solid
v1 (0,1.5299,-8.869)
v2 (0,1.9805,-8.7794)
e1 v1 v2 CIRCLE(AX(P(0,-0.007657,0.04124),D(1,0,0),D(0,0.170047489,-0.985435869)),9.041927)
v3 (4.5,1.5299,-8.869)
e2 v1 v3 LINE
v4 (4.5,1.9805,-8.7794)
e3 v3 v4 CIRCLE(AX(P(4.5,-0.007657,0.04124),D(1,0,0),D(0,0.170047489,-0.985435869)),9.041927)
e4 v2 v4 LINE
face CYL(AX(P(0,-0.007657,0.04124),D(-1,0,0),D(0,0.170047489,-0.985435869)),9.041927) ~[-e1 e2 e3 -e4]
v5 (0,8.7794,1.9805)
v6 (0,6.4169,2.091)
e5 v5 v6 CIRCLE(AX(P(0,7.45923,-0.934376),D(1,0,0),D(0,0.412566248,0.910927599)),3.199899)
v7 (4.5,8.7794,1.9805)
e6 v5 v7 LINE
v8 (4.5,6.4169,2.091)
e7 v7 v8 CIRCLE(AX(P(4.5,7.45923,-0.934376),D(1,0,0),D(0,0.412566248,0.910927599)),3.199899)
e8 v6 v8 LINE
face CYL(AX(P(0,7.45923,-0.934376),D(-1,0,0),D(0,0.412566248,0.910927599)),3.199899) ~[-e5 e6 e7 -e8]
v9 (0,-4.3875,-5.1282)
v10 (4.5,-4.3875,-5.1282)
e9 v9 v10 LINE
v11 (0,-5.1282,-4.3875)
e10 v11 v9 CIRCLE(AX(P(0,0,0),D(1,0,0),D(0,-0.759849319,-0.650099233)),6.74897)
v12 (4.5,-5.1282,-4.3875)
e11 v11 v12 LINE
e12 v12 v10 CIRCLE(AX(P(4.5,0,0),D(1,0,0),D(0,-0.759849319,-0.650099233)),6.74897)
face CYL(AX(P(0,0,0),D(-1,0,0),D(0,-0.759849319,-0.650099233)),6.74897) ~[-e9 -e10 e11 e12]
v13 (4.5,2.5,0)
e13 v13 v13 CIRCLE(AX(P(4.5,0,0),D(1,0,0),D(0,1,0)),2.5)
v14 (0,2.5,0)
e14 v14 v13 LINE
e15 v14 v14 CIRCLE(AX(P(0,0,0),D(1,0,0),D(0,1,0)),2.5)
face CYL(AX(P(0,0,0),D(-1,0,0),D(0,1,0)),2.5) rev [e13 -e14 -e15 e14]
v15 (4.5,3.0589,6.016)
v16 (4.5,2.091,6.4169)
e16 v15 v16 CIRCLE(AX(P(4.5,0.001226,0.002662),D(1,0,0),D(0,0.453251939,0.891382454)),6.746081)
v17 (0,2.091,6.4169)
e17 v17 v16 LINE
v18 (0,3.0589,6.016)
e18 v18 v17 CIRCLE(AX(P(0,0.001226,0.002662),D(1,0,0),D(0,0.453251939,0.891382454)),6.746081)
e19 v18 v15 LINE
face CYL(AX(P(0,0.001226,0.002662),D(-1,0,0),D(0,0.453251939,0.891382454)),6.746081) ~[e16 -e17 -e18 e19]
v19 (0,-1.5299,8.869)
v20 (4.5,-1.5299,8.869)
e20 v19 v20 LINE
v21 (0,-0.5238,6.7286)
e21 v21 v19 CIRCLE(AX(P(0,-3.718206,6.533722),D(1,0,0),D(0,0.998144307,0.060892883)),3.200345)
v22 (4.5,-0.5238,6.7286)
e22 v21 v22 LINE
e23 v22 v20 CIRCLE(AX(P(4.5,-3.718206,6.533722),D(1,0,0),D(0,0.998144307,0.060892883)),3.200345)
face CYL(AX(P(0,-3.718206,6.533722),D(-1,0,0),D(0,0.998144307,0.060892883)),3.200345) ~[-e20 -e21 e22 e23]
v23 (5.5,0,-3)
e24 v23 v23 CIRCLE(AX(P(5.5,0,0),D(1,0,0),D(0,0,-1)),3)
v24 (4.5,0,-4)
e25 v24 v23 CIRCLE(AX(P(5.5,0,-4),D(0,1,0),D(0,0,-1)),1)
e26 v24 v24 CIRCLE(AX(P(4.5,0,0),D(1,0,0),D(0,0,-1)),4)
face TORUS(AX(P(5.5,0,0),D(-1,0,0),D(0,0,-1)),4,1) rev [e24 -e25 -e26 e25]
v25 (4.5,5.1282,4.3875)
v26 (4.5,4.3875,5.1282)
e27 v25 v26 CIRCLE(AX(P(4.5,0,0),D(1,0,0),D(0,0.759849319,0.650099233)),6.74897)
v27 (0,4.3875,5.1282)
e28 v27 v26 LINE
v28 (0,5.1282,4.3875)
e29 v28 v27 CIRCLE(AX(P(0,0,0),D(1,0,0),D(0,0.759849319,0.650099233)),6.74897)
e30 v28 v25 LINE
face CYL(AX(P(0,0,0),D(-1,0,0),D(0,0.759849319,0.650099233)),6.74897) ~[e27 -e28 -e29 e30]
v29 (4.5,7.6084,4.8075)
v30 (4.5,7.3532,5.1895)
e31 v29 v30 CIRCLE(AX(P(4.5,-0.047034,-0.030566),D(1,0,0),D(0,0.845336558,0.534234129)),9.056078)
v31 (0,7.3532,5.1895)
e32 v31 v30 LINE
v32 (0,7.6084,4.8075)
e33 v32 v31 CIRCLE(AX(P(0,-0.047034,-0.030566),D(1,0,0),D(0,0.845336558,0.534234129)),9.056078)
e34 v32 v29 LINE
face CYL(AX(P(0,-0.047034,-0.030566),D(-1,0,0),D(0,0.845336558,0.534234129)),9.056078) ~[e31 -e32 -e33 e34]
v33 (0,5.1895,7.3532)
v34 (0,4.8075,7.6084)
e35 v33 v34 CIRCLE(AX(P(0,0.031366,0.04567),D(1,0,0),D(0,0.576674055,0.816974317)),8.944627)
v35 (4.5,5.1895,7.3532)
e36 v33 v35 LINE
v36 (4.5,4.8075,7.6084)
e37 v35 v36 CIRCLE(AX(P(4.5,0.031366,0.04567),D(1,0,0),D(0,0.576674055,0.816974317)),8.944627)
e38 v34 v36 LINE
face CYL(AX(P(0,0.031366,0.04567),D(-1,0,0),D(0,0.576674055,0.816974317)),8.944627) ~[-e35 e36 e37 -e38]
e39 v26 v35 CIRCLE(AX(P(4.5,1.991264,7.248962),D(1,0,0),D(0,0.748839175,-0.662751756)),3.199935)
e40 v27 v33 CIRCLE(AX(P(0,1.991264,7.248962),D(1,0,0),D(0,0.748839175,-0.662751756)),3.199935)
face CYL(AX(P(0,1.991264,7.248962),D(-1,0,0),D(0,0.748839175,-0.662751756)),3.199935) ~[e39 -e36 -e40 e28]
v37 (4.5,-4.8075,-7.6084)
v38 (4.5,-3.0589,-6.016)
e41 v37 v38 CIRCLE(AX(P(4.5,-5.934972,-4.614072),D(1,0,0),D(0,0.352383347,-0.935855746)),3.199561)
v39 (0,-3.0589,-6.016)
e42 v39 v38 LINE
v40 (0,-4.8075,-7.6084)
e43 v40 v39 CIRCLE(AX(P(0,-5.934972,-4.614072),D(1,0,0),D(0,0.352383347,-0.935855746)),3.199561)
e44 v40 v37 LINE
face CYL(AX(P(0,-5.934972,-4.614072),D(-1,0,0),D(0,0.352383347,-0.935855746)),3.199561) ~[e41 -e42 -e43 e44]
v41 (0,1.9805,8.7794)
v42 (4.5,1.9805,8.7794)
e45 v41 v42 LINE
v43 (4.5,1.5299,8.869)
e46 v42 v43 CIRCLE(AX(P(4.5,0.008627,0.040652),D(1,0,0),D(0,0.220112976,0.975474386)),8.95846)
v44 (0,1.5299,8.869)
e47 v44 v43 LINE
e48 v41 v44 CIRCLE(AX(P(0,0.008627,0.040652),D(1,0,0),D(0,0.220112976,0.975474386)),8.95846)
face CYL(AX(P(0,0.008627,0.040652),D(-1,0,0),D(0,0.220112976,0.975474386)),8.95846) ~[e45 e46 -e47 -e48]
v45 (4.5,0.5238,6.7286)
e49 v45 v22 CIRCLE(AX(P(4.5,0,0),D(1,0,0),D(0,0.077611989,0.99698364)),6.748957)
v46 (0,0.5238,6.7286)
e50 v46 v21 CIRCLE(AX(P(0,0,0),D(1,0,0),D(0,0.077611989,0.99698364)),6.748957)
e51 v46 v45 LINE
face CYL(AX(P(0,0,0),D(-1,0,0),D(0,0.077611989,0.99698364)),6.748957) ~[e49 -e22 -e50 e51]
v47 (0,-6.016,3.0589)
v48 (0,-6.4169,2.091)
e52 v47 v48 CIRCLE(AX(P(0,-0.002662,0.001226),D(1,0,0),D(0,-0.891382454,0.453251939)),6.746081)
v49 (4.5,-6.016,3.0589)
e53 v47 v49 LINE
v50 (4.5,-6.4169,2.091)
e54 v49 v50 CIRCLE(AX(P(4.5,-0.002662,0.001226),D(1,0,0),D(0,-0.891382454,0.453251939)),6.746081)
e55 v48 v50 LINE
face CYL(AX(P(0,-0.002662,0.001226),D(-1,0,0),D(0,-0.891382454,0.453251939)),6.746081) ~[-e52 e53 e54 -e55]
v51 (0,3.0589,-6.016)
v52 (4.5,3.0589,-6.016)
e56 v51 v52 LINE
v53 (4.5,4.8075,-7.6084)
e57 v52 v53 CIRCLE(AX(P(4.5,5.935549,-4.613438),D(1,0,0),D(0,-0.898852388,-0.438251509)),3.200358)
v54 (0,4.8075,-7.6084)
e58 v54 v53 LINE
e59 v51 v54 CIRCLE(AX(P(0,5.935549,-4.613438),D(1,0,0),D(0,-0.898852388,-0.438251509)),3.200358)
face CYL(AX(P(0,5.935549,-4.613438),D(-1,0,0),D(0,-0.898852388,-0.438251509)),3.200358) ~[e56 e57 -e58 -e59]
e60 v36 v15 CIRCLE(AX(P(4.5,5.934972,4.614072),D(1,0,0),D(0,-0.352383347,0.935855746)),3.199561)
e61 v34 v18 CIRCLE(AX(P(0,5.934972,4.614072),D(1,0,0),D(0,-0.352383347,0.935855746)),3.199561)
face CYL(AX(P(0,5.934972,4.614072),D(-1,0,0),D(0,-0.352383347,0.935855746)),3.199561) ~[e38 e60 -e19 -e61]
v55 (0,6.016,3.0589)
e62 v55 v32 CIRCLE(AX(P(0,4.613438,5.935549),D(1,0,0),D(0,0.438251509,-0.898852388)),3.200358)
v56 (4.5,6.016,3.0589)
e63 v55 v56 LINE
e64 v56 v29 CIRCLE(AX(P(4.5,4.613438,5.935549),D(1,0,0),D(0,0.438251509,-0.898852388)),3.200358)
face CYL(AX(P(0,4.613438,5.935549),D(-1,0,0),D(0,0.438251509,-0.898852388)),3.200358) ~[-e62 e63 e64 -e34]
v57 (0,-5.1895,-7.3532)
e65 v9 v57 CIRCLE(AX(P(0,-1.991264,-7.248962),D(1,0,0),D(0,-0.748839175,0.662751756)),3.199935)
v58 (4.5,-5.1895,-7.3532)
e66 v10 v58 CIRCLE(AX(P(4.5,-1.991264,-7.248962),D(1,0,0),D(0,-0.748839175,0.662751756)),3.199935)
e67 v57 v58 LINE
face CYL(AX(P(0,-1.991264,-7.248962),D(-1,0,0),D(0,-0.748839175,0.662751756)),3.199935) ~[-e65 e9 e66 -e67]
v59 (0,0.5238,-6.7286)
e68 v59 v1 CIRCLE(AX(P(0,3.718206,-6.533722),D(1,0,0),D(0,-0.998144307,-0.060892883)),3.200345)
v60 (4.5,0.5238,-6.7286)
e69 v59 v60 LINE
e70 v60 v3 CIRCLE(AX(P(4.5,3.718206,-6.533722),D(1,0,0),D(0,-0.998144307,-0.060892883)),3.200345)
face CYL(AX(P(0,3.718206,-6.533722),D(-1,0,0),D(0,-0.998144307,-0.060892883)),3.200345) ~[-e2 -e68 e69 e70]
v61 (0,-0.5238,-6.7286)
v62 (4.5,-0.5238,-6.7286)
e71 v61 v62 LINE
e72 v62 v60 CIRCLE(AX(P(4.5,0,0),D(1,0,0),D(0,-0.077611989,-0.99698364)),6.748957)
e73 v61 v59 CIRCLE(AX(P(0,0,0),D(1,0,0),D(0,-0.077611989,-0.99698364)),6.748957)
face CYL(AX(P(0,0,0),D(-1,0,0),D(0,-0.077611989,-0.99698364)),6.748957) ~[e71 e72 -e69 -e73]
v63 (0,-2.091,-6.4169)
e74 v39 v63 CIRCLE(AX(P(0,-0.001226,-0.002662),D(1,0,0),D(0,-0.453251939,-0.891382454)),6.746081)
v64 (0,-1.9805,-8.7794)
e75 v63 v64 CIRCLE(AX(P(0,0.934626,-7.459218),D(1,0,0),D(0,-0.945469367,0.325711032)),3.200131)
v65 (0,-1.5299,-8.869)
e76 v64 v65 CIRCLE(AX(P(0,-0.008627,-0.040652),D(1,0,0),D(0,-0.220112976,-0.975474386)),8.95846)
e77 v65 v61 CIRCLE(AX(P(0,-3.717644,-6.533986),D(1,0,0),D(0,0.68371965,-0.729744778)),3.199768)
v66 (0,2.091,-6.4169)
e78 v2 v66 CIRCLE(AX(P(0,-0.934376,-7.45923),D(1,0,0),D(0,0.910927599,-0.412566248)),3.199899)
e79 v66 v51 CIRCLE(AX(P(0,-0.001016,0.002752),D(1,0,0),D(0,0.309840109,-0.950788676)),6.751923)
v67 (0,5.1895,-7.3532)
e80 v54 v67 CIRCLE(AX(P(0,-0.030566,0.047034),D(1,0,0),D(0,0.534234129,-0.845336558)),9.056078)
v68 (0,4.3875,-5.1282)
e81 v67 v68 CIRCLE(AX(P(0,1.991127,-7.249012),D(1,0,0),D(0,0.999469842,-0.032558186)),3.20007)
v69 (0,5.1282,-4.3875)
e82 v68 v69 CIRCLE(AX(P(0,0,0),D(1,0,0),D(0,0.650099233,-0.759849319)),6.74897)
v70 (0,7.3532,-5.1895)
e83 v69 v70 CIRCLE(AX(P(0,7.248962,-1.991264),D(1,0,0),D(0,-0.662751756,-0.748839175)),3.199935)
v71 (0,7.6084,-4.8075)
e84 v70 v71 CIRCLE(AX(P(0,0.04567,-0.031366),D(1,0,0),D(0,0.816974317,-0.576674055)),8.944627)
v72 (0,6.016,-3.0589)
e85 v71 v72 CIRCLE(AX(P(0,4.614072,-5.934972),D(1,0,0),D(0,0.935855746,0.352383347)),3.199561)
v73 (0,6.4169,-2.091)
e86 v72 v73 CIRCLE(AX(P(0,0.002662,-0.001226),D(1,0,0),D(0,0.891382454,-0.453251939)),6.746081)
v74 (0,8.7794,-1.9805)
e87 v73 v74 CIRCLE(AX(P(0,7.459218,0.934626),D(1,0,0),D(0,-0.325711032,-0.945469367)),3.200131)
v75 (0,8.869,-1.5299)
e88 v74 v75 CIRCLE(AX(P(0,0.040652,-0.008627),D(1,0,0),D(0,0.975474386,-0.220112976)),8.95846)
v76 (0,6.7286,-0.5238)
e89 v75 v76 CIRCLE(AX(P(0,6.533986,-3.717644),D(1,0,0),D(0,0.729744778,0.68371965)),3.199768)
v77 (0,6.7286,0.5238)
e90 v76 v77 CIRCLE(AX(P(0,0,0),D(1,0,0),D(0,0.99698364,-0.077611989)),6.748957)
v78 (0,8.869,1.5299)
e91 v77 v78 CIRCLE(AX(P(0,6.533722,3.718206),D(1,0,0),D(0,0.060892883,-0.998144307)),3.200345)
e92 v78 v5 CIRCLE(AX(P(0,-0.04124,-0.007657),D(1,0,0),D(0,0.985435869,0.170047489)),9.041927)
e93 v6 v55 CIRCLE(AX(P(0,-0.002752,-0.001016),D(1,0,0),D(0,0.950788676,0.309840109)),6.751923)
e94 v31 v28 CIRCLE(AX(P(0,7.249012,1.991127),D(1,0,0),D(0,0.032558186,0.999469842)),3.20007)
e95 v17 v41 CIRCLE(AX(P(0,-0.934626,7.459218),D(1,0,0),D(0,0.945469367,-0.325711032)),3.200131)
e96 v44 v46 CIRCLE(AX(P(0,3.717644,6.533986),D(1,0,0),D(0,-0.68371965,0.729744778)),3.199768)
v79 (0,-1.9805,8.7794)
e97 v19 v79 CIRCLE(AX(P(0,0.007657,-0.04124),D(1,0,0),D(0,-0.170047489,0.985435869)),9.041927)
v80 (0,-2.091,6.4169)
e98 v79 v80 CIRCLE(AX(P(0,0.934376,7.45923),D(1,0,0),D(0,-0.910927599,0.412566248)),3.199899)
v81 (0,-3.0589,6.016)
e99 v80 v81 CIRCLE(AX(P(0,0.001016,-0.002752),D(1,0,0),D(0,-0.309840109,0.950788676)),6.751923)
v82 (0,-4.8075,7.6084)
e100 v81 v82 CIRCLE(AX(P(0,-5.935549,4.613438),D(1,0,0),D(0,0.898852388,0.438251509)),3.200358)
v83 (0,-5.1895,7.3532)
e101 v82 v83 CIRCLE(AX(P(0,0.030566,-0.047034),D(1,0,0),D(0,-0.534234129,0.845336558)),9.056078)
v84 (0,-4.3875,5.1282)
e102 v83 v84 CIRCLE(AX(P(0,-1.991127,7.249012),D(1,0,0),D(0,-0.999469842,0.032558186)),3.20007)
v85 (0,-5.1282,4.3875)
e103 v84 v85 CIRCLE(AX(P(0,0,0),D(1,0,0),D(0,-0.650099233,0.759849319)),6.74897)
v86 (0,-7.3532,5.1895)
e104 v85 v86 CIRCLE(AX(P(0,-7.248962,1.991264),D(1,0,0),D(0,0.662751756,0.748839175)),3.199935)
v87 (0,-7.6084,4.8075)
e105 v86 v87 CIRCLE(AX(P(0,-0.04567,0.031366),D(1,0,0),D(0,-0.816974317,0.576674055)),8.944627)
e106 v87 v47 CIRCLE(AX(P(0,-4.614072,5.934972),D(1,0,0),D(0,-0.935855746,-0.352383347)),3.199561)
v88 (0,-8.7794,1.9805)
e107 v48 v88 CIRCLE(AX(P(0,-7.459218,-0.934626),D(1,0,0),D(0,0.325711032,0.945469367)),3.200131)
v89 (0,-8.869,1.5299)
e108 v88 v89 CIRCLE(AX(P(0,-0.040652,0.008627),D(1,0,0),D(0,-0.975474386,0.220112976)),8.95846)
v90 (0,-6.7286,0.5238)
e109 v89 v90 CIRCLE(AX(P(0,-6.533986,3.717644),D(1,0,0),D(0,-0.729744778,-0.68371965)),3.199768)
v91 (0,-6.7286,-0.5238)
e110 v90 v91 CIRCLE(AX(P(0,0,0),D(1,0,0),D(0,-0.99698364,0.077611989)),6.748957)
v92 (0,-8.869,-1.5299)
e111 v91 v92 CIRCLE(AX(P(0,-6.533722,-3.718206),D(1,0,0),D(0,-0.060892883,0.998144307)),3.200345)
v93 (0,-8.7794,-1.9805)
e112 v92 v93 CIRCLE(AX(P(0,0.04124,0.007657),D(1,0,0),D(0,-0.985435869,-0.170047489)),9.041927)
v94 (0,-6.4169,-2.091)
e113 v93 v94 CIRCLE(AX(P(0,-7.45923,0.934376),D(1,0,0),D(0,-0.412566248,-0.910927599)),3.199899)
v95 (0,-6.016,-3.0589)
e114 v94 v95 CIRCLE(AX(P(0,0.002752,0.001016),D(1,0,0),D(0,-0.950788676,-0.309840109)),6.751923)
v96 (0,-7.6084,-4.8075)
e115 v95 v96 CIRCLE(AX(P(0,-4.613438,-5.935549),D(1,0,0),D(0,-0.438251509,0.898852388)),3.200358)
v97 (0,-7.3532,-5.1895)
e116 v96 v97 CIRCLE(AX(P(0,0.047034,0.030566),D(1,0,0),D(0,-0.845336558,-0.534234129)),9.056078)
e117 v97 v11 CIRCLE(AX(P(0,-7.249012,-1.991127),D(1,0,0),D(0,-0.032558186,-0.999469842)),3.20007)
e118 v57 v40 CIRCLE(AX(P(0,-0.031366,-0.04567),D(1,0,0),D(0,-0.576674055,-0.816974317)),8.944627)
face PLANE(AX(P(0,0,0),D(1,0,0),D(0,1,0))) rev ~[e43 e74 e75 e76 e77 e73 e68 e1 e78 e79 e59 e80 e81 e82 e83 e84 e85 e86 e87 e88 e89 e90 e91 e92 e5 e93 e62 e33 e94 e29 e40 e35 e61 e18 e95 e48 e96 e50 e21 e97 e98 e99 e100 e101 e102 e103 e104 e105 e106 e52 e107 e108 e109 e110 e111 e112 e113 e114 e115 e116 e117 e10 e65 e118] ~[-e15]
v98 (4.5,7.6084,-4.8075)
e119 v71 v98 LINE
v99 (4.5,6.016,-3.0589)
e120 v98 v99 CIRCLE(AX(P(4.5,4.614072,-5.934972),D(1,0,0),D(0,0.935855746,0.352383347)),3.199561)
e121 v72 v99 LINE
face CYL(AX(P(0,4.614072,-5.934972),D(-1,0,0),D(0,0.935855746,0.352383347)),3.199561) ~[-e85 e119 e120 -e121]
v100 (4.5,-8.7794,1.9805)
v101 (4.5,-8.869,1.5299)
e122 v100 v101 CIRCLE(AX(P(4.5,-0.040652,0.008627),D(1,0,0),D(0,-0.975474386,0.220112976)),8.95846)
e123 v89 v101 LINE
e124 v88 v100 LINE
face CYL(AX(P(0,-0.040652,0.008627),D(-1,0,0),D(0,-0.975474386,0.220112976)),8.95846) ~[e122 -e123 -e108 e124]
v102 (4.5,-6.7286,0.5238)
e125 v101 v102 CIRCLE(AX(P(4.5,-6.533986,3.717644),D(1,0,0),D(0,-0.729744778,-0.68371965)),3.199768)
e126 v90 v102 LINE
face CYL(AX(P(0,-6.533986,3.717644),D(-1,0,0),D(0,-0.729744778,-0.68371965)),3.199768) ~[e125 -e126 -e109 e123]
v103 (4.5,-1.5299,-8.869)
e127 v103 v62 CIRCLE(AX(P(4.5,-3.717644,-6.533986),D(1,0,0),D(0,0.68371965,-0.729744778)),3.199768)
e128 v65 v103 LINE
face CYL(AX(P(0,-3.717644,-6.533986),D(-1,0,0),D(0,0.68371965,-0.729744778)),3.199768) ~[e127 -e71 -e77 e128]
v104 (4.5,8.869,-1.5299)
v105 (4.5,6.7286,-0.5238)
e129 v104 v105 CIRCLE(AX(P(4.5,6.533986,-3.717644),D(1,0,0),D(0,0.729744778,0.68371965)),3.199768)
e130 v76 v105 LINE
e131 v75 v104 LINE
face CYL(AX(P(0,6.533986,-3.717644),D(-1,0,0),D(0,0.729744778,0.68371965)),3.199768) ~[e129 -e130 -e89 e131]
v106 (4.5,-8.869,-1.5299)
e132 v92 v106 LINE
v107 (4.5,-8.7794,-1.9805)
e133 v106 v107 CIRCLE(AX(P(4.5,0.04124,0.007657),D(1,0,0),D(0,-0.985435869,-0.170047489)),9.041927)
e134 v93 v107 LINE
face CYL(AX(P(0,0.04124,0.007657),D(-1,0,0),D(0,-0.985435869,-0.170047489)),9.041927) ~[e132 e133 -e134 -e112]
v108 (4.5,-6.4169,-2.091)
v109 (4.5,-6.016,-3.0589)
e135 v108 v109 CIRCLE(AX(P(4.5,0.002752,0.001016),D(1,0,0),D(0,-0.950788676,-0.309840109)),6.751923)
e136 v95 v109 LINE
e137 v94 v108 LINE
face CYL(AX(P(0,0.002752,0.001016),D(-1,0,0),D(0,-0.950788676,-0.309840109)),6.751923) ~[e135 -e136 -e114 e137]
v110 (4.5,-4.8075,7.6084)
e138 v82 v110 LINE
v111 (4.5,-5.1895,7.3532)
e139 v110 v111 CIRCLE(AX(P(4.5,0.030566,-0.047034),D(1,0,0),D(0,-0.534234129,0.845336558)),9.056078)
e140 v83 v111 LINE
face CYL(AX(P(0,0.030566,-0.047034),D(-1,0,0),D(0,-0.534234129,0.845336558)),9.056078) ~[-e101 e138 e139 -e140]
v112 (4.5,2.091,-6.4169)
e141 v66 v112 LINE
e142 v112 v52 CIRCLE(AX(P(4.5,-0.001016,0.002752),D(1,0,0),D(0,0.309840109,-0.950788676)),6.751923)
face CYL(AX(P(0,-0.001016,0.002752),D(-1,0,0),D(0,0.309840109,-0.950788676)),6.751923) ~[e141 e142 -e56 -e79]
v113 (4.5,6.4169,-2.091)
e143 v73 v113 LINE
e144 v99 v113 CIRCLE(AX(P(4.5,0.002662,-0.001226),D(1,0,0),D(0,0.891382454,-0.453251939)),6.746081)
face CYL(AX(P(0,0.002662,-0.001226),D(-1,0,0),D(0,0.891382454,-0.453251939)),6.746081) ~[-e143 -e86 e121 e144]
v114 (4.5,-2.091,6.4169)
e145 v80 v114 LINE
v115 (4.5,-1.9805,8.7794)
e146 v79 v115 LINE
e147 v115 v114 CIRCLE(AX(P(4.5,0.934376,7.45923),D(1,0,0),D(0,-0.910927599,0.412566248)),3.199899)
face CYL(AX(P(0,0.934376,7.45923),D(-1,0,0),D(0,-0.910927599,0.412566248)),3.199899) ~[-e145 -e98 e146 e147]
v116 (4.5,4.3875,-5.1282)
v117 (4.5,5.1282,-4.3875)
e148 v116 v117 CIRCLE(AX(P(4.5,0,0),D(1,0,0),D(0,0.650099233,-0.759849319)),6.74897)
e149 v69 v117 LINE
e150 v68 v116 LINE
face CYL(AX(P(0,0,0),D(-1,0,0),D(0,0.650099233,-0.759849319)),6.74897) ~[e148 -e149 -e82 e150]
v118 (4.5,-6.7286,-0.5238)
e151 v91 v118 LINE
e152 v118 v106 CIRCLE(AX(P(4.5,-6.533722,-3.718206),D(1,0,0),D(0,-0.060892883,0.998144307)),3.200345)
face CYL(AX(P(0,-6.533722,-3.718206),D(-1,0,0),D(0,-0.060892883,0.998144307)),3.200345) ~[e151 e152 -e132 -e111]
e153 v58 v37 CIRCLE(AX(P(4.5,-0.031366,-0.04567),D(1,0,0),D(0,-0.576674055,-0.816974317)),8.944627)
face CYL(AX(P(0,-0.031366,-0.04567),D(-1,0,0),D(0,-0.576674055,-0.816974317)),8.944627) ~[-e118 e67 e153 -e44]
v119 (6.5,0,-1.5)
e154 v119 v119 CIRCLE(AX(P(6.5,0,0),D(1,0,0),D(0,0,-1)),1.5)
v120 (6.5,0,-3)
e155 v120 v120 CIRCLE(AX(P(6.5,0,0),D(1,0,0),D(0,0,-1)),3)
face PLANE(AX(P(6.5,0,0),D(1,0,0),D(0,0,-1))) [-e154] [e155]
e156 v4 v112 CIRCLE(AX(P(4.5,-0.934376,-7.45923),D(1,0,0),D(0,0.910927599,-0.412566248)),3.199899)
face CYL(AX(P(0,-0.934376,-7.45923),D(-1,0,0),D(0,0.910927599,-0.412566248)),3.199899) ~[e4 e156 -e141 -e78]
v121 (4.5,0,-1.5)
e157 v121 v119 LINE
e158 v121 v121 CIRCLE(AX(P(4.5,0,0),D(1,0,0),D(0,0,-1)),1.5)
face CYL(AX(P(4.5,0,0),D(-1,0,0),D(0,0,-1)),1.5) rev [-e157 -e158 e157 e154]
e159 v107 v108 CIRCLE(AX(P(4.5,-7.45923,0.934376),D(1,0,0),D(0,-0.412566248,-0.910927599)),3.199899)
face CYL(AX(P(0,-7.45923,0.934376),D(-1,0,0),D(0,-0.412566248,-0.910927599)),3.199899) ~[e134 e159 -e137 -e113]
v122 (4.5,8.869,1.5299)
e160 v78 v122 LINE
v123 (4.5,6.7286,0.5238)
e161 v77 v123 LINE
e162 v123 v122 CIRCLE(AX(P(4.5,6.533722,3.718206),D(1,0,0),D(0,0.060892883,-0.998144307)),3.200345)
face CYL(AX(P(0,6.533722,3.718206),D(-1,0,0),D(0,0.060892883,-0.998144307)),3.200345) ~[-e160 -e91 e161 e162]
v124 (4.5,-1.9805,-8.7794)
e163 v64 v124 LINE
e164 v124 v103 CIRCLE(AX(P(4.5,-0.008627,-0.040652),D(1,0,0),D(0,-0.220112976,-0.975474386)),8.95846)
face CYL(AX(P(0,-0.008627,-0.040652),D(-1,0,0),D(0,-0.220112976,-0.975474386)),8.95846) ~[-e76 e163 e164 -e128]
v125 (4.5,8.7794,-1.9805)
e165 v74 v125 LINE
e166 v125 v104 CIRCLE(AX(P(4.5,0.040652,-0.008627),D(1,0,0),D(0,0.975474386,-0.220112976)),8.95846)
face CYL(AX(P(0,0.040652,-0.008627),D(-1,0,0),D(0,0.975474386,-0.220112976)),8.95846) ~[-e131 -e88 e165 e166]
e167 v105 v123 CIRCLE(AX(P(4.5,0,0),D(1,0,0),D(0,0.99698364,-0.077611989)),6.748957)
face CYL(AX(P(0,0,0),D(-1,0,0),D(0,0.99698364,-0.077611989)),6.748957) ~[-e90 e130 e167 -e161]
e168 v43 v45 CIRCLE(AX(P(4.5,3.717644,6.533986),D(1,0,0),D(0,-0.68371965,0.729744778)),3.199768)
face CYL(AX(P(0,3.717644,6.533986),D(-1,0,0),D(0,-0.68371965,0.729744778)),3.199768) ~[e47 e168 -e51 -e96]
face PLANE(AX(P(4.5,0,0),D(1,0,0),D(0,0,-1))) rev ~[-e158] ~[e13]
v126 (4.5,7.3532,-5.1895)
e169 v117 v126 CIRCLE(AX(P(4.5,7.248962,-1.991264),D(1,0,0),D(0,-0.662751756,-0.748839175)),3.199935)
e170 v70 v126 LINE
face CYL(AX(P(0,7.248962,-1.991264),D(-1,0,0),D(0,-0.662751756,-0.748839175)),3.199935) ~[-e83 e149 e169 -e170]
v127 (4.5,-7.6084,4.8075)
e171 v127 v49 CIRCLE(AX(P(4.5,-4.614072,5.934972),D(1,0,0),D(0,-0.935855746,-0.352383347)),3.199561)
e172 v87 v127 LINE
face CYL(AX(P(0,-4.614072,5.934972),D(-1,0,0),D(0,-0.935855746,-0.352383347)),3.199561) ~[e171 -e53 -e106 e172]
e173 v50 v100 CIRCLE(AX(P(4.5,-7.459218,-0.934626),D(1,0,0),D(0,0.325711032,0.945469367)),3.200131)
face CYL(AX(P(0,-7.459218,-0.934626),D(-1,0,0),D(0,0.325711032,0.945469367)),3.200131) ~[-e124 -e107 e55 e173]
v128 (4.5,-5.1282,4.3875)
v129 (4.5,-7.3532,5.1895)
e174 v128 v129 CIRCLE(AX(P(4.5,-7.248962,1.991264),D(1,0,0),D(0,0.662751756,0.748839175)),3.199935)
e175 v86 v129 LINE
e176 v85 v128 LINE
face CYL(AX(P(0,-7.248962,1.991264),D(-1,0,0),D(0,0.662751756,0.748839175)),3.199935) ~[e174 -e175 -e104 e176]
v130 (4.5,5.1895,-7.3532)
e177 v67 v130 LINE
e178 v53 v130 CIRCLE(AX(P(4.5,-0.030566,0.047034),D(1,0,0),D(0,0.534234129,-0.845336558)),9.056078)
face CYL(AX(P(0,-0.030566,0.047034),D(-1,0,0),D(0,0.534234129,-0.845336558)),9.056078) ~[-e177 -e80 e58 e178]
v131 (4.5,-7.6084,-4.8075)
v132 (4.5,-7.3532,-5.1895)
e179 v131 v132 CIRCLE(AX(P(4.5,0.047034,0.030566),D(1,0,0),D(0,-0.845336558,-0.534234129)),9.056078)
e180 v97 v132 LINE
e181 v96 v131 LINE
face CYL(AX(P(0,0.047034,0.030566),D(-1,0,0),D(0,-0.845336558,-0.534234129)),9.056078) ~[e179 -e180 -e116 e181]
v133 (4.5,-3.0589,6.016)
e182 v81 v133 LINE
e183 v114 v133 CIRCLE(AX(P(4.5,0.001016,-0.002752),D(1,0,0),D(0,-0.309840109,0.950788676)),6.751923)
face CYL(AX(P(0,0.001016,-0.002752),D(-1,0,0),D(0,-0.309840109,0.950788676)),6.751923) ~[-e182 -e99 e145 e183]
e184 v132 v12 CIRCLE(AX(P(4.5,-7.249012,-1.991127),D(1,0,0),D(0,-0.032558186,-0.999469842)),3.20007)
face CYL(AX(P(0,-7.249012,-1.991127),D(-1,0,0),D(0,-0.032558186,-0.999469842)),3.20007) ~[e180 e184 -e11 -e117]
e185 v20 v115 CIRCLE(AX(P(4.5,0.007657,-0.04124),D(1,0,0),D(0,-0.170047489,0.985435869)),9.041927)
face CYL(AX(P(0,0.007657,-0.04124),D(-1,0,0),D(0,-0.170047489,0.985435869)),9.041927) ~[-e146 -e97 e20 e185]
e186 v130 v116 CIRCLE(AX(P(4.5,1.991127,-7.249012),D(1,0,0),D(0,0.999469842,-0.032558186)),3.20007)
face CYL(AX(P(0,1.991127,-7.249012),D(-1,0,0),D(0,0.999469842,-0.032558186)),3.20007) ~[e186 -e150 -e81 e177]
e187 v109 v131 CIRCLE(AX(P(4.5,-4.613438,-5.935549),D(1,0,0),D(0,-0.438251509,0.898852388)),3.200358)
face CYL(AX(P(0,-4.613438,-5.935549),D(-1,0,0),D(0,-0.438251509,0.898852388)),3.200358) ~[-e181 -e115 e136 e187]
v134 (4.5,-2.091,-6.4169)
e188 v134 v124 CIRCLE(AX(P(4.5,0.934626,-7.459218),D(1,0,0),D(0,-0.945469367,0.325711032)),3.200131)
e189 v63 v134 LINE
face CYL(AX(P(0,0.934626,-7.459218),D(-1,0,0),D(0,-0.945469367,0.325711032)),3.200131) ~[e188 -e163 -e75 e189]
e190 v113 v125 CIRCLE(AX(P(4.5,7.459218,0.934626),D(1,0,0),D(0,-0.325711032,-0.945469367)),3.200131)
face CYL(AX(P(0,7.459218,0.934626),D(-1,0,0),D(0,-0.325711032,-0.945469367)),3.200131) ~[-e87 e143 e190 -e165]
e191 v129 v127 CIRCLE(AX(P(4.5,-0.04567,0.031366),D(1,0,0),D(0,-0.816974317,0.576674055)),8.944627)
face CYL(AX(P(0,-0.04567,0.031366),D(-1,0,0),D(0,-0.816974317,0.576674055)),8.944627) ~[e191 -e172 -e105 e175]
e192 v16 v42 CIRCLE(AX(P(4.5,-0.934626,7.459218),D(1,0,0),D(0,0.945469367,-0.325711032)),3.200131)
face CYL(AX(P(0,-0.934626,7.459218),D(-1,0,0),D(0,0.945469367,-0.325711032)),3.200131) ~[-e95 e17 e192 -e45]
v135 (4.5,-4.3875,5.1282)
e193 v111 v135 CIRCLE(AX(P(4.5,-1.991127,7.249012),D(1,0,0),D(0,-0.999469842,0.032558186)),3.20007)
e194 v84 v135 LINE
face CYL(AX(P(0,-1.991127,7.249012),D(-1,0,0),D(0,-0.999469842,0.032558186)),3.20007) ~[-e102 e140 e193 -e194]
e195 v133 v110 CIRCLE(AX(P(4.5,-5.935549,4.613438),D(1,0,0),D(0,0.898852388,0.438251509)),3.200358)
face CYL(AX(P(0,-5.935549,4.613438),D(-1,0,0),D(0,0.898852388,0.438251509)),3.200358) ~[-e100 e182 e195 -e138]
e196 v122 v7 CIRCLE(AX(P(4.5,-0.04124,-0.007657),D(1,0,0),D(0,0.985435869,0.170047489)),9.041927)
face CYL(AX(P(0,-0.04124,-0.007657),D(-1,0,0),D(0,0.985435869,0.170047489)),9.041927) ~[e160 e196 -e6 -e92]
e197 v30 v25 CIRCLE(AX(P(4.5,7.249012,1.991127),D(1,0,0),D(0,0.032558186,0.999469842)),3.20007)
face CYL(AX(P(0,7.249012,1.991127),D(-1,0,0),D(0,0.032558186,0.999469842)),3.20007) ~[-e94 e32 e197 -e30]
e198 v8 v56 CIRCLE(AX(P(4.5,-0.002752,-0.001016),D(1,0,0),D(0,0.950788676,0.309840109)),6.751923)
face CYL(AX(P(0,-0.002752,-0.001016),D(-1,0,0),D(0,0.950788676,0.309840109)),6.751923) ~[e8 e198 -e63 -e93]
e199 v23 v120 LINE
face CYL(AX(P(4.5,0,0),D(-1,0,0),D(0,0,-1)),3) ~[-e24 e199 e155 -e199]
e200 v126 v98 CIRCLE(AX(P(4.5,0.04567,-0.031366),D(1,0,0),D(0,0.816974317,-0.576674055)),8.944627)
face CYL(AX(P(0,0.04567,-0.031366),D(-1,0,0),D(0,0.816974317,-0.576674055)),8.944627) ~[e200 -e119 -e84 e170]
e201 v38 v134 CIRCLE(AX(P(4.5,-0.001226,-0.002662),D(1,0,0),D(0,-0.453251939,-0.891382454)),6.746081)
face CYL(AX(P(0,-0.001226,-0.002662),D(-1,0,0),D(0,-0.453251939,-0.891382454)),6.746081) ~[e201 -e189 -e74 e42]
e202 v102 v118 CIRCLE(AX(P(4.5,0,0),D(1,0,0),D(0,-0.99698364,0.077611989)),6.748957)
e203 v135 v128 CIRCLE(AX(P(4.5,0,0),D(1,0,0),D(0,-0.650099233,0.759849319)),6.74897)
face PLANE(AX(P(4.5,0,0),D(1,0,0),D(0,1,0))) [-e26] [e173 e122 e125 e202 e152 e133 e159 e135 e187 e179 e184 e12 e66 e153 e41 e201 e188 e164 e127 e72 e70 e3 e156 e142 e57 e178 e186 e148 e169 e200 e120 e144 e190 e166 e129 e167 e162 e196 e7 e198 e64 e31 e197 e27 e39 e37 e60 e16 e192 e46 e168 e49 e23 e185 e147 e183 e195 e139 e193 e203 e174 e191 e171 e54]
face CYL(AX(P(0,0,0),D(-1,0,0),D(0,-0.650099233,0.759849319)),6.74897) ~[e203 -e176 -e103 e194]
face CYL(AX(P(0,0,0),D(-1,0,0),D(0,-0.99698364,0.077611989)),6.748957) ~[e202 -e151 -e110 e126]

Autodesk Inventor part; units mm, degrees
ref_plane "YZ Plane" through (0, 0, 0) normal (1, 0, 0) x (0, 1, 0)
ref_plane "XZ Plane" through (0, 0, 0) normal (0, 1, 0) x (-1, 0, 0)
ref_plane "XY Plane" through (0, 0, 0) normal (0, 0, 1) x (1, 0, 0)
sketch "Sketch1" plane through (0, 0, 0) normal (1, 0, 0) x (0, 1, 0)
  arc A0 (-4.3875, 5.1282) -> (-5.1282, 4.3875) centre (0, 0) ccw
  arc A1 (-5.1895, 7.3532) -> (-4.3875, 5.1282) centre (-1.9912, 7.249) ccw
  arc A2 (-3.0589, 6.016) -> (-4.8075, 7.6084) centre (-5.9352, 4.6137) ccw
  arc A3 (-4.8075, 7.6084) -> (-5.1895, 7.3532) centre (0, 0) ccw
  arc A4 (-2.091, 6.4169) -> (-3.0589, 6.016) centre (0, 0) ccw
  arc A5 (-1.9805, 8.7794) -> (-2.091, 6.4169) centre (0.9345, 7.4592) ccw
  arc A6 (-1.5299, 8.869) -> (-1.9805, 8.7794) centre (0, 0) ccw
  arc A7 (-0.5238, 6.7286) -> (-1.5299, 8.869) centre (-3.7179, 6.5338) ccw
  arc A8 (0.5238, 6.7286) -> (-0.5238, 6.7286) centre (0, 0) ccw
  arc A9 (1.5299, 8.869) -> (0.5238, 6.7286) centre (3.7179, 6.5338) ccw
  arc A10 (1.9805, 8.7794) -> (1.5299, 8.869) centre (0, 0) ccw
  arc A11 (2.091, 6.4169) -> (1.9805, 8.7794) centre (-0.9345, 7.4592) ccw
  arc A12 (3.0589, 6.016) -> (2.091, 6.4169) centre (0, 0) ccw
  arc A13 (4.8075, 7.6084) -> (3.0589, 6.016) centre (5.9352, 4.6137) ccw
  arc A14 (5.1895, 7.3532) -> (4.8075, 7.6084) centre (0, 0) ccw
  arc A15 (4.3875, 5.1282) -> (5.1895, 7.3532) centre (1.9912, 7.249) ccw
  arc A16 (5.1282, 4.3875) -> (4.3875, 5.1282) centre (0, 0) ccw
  arc A17 (7.3532, 5.1895) -> (5.1282, 4.3875) centre (7.249, 1.9912) ccw
  arc A18 (7.6084, 4.8075) -> (7.3532, 5.1895) centre (0, 0) ccw
  arc A19 (6.016, 3.0589) -> (7.6084, 4.8075) centre (4.6137, 5.9352) ccw
  arc A20 (6.4169, 2.091) -> (6.016, 3.0589) centre (0, 0) ccw
  arc A21 (8.7794, 1.9805) -> (6.4169, 2.091) centre (7.4592, -0.9345) ccw
  arc A22 (8.869, 1.5299) -> (8.7794, 1.9805) centre (0, 0) ccw
  arc A23 (6.7286, 0.5238) -> (8.869, 1.5299) centre (6.5338, 3.7179) ccw
  arc A24 (6.7286, -0.5238) -> (6.7286, 0.5238) centre (0, 0) ccw
  arc A25 (8.869, -1.5299) -> (6.7286, -0.5238) centre (6.5338, -3.7179) ccw
  arc A26 (8.7794, -1.9805) -> (8.869, -1.5299) centre (0, 0) ccw
  arc A27 (6.4169, -2.091) -> (8.7794, -1.9805) centre (7.4592, 0.9345) ccw
  arc A28 (6.016, -3.0589) -> (6.4169, -2.091) centre (0, 0) ccw
  arc A29 (7.6084, -4.8075) -> (6.016, -3.0589) centre (4.6137, -5.9352) ccw
  arc A30 (7.3532, -5.1895) -> (7.6084, -4.8075) centre (0, 0) ccw
  arc A31 (5.1282, -4.3875) -> (7.3532, -5.1895) centre (7.249, -1.9912) ccw
  arc A32 (4.3875, -5.1282) -> (5.1282, -4.3875) centre (0, 0) ccw
  arc A33 (5.1895, -7.3532) -> (4.3875, -5.1282) centre (1.9912, -7.249) ccw
  arc A34 (4.8075, -7.6084) -> (5.1895, -7.3532) centre (0, 0) ccw
  arc A35 (3.0589, -6.016) -> (4.8075, -7.6084) centre (5.9352, -4.6137) ccw
  arc A36 (-8.869, 1.5299) -> (-6.7286, 0.5238) centre (-6.5338, 3.7179) ccw
  arc A37 (-6.7286, 0.5238) -> (-6.7286, -0.5238) centre (0, 0) ccw
  arc A38 (-6.7286, -0.5238) -> (-8.869, -1.5299) centre (-6.5338, -3.7179) ccw
  arc A39 (-8.869, -1.5299) -> (-8.7794, -1.9805) centre (0, 0) ccw
  arc A40 (-8.7794, -1.9805) -> (-6.4169, -2.091) centre (-7.4592, 0.9345) ccw
  arc A41 (-6.4169, -2.091) -> (-6.016, -3.0589) centre (0, 0) ccw
  arc A42 (-6.016, -3.0589) -> (-7.6084, -4.8075) centre (-4.6137, -5.9352) ccw
  arc A43 (-7.6084, -4.8075) -> (-7.3532, -5.1895) centre (0, 0) ccw
  arc A44 (-7.3532, -5.1895) -> (-5.1282, -4.3875) centre (-7.249, -1.9912) ccw
  arc A45 (-5.1282, -4.3875) -> (-4.3875, -5.1282) centre (0, 0) ccw
  arc A46 (-4.3875, -5.1282) -> (-5.1895, -7.3532) centre (-1.9912, -7.249) ccw
  arc A47 (-5.1895, -7.3532) -> (-4.8075, -7.6084) centre (0, 0) ccw
  arc A48 (-4.8075, -7.6084) -> (-3.0589, -6.016) centre (-5.9352, -4.6137) ccw
  arc A49 (-3.0589, -6.016) -> (-2.091, -6.4169) centre (0, 0) ccw
  arc A50 (-2.091, -6.4169) -> (-1.9805, -8.7794) centre (0.9345, -7.4592) ccw
  arc A51 (-1.9805, -8.7794) -> (-1.5299, -8.869) centre (0, 0) ccw
  arc A52 (-1.5299, -8.869) -> (-0.5238, -6.7286) centre (-3.7179, -6.5338) ccw
  arc A53 (-0.5238, -6.7286) -> (0.5238, -6.7286) centre (0, 0) ccw
  arc A54 (0.5238, -6.7286) -> (1.5299, -8.869) centre (3.7179, -6.5338) ccw
  arc A55 (1.5299, -8.869) -> (1.9805, -8.7794) centre (0, 0) ccw
  arc A56 (1.9805, -8.7794) -> (2.091, -6.4169) centre (-0.9345, -7.4592) ccw
  arc A57 (2.091, -6.4169) -> (3.0589, -6.016) centre (0, 0) ccw
  arc A58 (3.0589, -6.016) -> (4.8075, -7.6084) centre (5.9352, -4.6137) ccw
  arc A59 (4.8075, -7.6084) -> (5.1895, -7.3532) centre (0, 0) ccw
  arc A60 (5.1895, -7.3532) -> (4.3875, -5.1282) centre (1.9912, -7.249) ccw
  arc A61 (4.3875, -5.1282) -> (5.1282, -4.3875) centre (0, 0) ccw
  arc A62 (5.1282, -4.3875) -> (7.3532, -5.1895) centre (7.249, -1.9912) ccw
  arc A63 (7.3532, -5.1895) -> (7.6084, -4.8075) centre (0, 0) ccw
  arc A64 (7.6084, -4.8075) -> (6.016, -3.0589) centre (4.6137, -5.9352) ccw
  arc A65 (6.016, -3.0589) -> (6.4169, -2.091) centre (0, 0) ccw
  arc A66 (6.4169, -2.091) -> (8.7794, -1.9805) centre (7.4592, 0.9345) ccw
  arc A67 (8.7794, -1.9805) -> (8.869, -1.5299) centre (0, 0) ccw
  arc A68 (8.869, -1.5299) -> (6.7286, -0.5238) centre (6.5338, -3.7179) ccw
  arc A69 (6.7286, -0.5238) -> (6.7286, 0.5238) centre (0, 0) ccw
  arc A70 (6.7286, 0.5238) -> (8.869, 1.5299) centre (6.5338, 3.7179) ccw
  arc A71 (8.869, 1.5299) -> (8.7794, 1.9805) centre (0, 0) ccw
  arc A72 (8.7794, 1.9805) -> (6.4169, 2.091) centre (7.4592, -0.9345) ccw
  arc A73 (6.4169, 2.091) -> (6.016, 3.0589) centre (0, 0) ccw
  arc A74 (6.016, 3.0589) -> (7.6084, 4.8075) centre (4.6137, 5.9352) ccw
  arc A75 (7.6084, 4.8075) -> (7.3532, 5.1895) centre (0, 0) ccw
  arc A76 (7.3532, 5.1895) -> (5.1282, 4.3875) centre (7.249, 1.9912) ccw
  arc A77 (5.1282, 4.3875) -> (4.3875, 5.1282) centre (0, 0) ccw
  arc A78 (4.3875, 5.1282) -> (5.1895, 7.3532) centre (1.9912, 7.249) ccw
  arc A79 (5.1895, 7.3532) -> (4.8075, 7.6084) centre (0, 0) ccw
  arc A80 (4.8075, 7.6084) -> (3.0589, 6.016) centre (5.9352, 4.6137) ccw
  arc A81 (3.0589, 6.016) -> (2.091, 6.4169) centre (0, 0) ccw
  arc A82 (2.091, 6.4169) -> (1.9805, 8.7794) centre (-0.9345, 7.4592) ccw
  arc A83 (1.9805, 8.7794) -> (1.5299, 8.869) centre (0, 0) ccw
  arc A84 (1.5299, 8.869) -> (0.5238, 6.7286) centre (3.7179, 6.5338) ccw
  arc A85 (0.5238, 6.7286) -> (-0.5238, 6.7286) centre (0, 0) ccw
  arc A86 (-0.5238, 6.7286) -> (-1.5299, 8.869) centre (-3.7179, 6.5338) ccw
  arc A87 (-1.5299, 8.869) -> (-1.9805, 8.7794) centre (0, 0) ccw
  arc A88 (-1.9805, 8.7794) -> (-2.091, 6.4169) centre (0.9345, 7.4592) ccw
  arc A89 (-2.091, 6.4169) -> (-3.0589, 6.016) centre (0, 0) ccw
  arc A90 (-3.0589, 6.016) -> (-4.8075, 7.6084) centre (-5.9352, 4.6137) ccw
  arc A91 (-4.8075, 7.6084) -> (-5.1895, 7.3532) centre (0, 0) ccw
  arc A92 (-5.1895, 7.3532) -> (-4.3875, 5.1282) centre (-1.9912, 7.249) ccw
  arc A93 (-4.3875, 5.1282) -> (-5.1282, 4.3875) centre (0, 0) ccw
  arc A94 (-5.1282, 4.3875) -> (-7.3532, 5.1895) centre (-7.249, 1.9912) ccw
  arc A95 (-7.3532, 5.1895) -> (-7.6084, 4.8075) centre (0, 0) ccw
  arc A96 (-7.6084, 4.8075) -> (-6.016, 3.0589) centre (-4.6137, 5.9352) ccw
  arc A97 (-6.016, 3.0589) -> (-6.4169, 2.091) centre (0, 0) ccw
  arc A98 (-6.4169, 2.091) -> (-8.7794, 1.9805) centre (-7.4592, -0.9345) ccw
  arc A99 (-8.7794, 1.9805) -> (-8.869, 1.5299) centre (0, 0) ccw
  circle A100 centre (0, 0) radius 2.5
  line L0 (0, 0) -> (2.25, 0)
  line L1 (-1.5245, 0) -> (0, 0)
  line L2 (0, 0) -> (0, -2.5981)
  point P0 (3.0589, -6.016)
  point P1 (-5.1282, 4.3875)
  dimension "d17" = 5
extrude "Extrusion1" add sketch "Sketch1" along normal blind 4.5
sketch "Sketch4" plane through (4.5, 0, 0) normal (1, 0, 0) x (0, 0, -1)
  circle A0 centre (0, 0) radius 1.5
  arc A1 (6.016, 3.0589) -> (7.6084, 4.8075) centre (4.6137, 5.9352) ccw projected
  arc A2 (7.6084, 4.8075) -> (7.3532, 5.1895) centre (0, 0) ccw projected
  arc A3 (7.3532, 5.1895) -> (5.1282, 4.3875) centre (7.249, 1.9912) ccw projected
  arc A4 (5.1282, 4.3875) -> (4.3875, 5.1282) centre (0, 0) ccw projected
  arc A5 (4.3875, 5.1282) -> (5.1895, 7.3532) centre (1.9912, 7.249) ccw projected
  arc A6 (5.1895, 7.3532) -> (4.8075, 7.6084) centre (0, 0) ccw projected
  arc A7 (4.8075, 7.6084) -> (3.0589, 6.016) centre (5.9352, 4.6137) ccw projected
  arc A8 (3.0589, 6.016) -> (2.091, 6.4169) centre (0, 0) ccw projected
  arc A9 (2.091, 6.4169) -> (1.9805, 8.7794) centre (-0.9345, 7.4592) ccw projected
  arc A10 (1.9805, 8.7794) -> (1.5299, 8.869) centre (0, 0) ccw projected
  arc A11 (1.5299, 8.869) -> (0.5238, 6.7286) centre (3.7179, 6.5338) ccw projected
  arc A12 (0.5238, 6.7286) -> (-0.5238, 6.7286) centre (0, 0) ccw projected
  arc A13 (-0.5238, 6.7286) -> (-1.5299, 8.869) centre (-3.7179, 6.5338) ccw projected
  arc A14 (-1.5299, 8.869) -> (-1.9805, 8.7794) centre (0, 0) ccw projected
  arc A15 (-1.9805, 8.7794) -> (-2.091, 6.4169) centre (0.9345, 7.4592) ccw projected
  arc A16 (-2.091, 6.4169) -> (-3.0589, 6.016) centre (0, 0) ccw projected
  arc A17 (-3.0589, 6.016) -> (-4.8075, 7.6084) centre (-5.9352, 4.6137) ccw projected
  arc A18 (-4.8075, 7.6084) -> (-5.1895, 7.3532) centre (0, 0) ccw projected
  arc A19 (-5.1895, 7.3532) -> (-4.3875, 5.1282) centre (-1.9912, 7.249) ccw projected
  arc A20 (-4.3875, 5.1282) -> (-5.1282, 4.3875) centre (0, 0) ccw projected
  arc A21 (-5.1282, 4.3875) -> (-7.3532, 5.1895) centre (-7.249, 1.9912) ccw projected
  arc A22 (-7.3532, 5.1895) -> (-7.6084, 4.8075) centre (0, 0) ccw projected
  arc A23 (-7.6084, 4.8075) -> (-6.016, 3.0589) centre (-4.6137, 5.9352) ccw projected
  arc A24 (-6.016, 3.0589) -> (-6.4169, 2.091) centre (0, 0) ccw projected
  arc A25 (-6.4169, 2.091) -> (-8.7794, 1.9805) centre (-7.4592, -0.9345) ccw projected
  arc A26 (-8.7794, 1.9805) -> (-8.869, 1.5299) centre (0, 0) ccw projected
  arc A27 (-8.869, 1.5299) -> (-6.7286, 0.5238) centre (-6.5338, 3.7179) ccw projected
  arc A28 (-6.7286, 0.5238) -> (-6.7286, -0.5238) centre (0, 0) ccw projected
  arc A29 (-6.7286, -0.5238) -> (-8.869, -1.5299) centre (-6.5338, -3.7179) ccw projected
  arc A30 (-8.869, -1.5299) -> (-8.7794, -1.9805) centre (0, 0) ccw projected
  arc A31 (-8.7794, -1.9805) -> (-6.4169, -2.091) centre (-7.4592, 0.9345) ccw projected
  arc A32 (-6.4169, -2.091) -> (-6.016, -3.0589) centre (0, 0) ccw projected
  arc A33 (-6.016, -3.0589) -> (-7.6084, -4.8075) centre (-4.6137, -5.9352) ccw projected
  arc A34 (-7.6084, -4.8075) -> (-7.3532, -5.1895) centre (0, 0) ccw projected
  arc A35 (-7.3532, -5.1895) -> (-5.1282, -4.3875) centre (-7.249, -1.9912) ccw projected
  arc A36 (-5.1282, -4.3875) -> (-4.3875, -5.1282) centre (0, 0) ccw projected
  arc A37 (-4.3875, -5.1282) -> (-5.1895, -7.3532) centre (-1.9912, -7.249) ccw projected
  arc A38 (-5.1895, -7.3532) -> (-4.8075, -7.6084) centre (0, 0) ccw projected
  arc A39 (-4.8075, -7.6084) -> (-3.0589, -6.016) centre (-5.9352, -4.6137) ccw projected
  arc A40 (-3.0589, -6.016) -> (-2.091, -6.4169) centre (0, 0) ccw projected
  arc A41 (-2.091, -6.4169) -> (-1.9805, -8.7794) centre (0.9345, -7.4592) ccw projected
  arc A42 (-1.9805, -8.7794) -> (-1.5299, -8.869) centre (0, 0) ccw projected
  arc A43 (-1.5299, -8.869) -> (-0.5238, -6.7286) centre (-3.7179, -6.5338) ccw projected
  arc A44 (-0.5238, -6.7286) -> (0.5238, -6.7286) centre (0, 0) ccw projected
  arc A45 (0.5238, -6.7286) -> (1.5299, -8.869) centre (3.7179, -6.5338) ccw projected
  arc A46 (1.5299, -8.869) -> (1.9805, -8.7794) centre (0, 0) ccw projected
  arc A47 (1.9805, -8.7794) -> (2.091, -6.4169) centre (-0.9345, -7.4592) ccw projected
  arc A48 (2.091, -6.4169) -> (3.0589, -6.016) centre (0, 0) ccw projected
  arc A49 (3.0589, -6.016) -> (4.8075, -7.6084) centre (5.9352, -4.6137) ccw projected
  arc A50 (4.8075, -7.6084) -> (5.1895, -7.3532) centre (0, 0) ccw projected
  arc A51 (5.1895, -7.3532) -> (4.3875, -5.1282) centre (1.9912, -7.249) ccw projected
  arc A52 (4.3875, -5.1282) -> (5.1282, -4.3875) centre (0, 0) ccw projected
  arc A53 (5.1282, -4.3875) -> (7.3532, -5.1895) centre (7.249, -1.9912) ccw projected
  arc A54 (7.3532, -5.1895) -> (7.6084, -4.8075) centre (0, 0) ccw projected
  arc A55 (7.6084, -4.8075) -> (6.016, -3.0589) centre (4.6137, -5.9352) ccw projected
  arc A56 (6.016, -3.0589) -> (6.4169, -2.091) centre (0, 0) ccw projected
  arc A57 (6.4169, -2.091) -> (8.7794, -1.9805) centre (7.4592, 0.9345) ccw projected
  arc A58 (8.7794, -1.9805) -> (8.869, -1.5299) centre (0, 0) ccw projected
  arc A59 (8.869, -1.5299) -> (6.7286, -0.5238) centre (6.5338, -3.7179) ccw projected
  arc A60 (6.7286, -0.5238) -> (6.7286, 0.5238) centre (0, 0) ccw projected
  arc A61 (6.7286, 0.5238) -> (8.869, 1.5299) centre (6.5338, 3.7179) ccw projected
  arc A62 (8.869, 1.5299) -> (8.7794, 1.9805) centre (0, 0) ccw projected
  arc A63 (8.7794, 1.9805) -> (6.4169, 2.091) centre (7.4592, -0.9345) ccw projected
  arc A64 (6.4169, 2.091) -> (6.016, 3.0589) centre (0, 0) ccw projected
  circle A65 centre (0, 0) radius 2.5 projected
  circle A66 centre (0, 0) radius 3
  dimension "d18" = 3
  dimension "d19" = 6
extrude "Extrusion3" add sketch "Sketch4" along normal blind 2 contours A65 | A66
fillet "Fillet1" radius 1 1 edges at (4.5, 0, 3)
equation "\"d17\" = d_agu"
equation "\"d_agu\" = 5"
properties part number "engrane_v3"
